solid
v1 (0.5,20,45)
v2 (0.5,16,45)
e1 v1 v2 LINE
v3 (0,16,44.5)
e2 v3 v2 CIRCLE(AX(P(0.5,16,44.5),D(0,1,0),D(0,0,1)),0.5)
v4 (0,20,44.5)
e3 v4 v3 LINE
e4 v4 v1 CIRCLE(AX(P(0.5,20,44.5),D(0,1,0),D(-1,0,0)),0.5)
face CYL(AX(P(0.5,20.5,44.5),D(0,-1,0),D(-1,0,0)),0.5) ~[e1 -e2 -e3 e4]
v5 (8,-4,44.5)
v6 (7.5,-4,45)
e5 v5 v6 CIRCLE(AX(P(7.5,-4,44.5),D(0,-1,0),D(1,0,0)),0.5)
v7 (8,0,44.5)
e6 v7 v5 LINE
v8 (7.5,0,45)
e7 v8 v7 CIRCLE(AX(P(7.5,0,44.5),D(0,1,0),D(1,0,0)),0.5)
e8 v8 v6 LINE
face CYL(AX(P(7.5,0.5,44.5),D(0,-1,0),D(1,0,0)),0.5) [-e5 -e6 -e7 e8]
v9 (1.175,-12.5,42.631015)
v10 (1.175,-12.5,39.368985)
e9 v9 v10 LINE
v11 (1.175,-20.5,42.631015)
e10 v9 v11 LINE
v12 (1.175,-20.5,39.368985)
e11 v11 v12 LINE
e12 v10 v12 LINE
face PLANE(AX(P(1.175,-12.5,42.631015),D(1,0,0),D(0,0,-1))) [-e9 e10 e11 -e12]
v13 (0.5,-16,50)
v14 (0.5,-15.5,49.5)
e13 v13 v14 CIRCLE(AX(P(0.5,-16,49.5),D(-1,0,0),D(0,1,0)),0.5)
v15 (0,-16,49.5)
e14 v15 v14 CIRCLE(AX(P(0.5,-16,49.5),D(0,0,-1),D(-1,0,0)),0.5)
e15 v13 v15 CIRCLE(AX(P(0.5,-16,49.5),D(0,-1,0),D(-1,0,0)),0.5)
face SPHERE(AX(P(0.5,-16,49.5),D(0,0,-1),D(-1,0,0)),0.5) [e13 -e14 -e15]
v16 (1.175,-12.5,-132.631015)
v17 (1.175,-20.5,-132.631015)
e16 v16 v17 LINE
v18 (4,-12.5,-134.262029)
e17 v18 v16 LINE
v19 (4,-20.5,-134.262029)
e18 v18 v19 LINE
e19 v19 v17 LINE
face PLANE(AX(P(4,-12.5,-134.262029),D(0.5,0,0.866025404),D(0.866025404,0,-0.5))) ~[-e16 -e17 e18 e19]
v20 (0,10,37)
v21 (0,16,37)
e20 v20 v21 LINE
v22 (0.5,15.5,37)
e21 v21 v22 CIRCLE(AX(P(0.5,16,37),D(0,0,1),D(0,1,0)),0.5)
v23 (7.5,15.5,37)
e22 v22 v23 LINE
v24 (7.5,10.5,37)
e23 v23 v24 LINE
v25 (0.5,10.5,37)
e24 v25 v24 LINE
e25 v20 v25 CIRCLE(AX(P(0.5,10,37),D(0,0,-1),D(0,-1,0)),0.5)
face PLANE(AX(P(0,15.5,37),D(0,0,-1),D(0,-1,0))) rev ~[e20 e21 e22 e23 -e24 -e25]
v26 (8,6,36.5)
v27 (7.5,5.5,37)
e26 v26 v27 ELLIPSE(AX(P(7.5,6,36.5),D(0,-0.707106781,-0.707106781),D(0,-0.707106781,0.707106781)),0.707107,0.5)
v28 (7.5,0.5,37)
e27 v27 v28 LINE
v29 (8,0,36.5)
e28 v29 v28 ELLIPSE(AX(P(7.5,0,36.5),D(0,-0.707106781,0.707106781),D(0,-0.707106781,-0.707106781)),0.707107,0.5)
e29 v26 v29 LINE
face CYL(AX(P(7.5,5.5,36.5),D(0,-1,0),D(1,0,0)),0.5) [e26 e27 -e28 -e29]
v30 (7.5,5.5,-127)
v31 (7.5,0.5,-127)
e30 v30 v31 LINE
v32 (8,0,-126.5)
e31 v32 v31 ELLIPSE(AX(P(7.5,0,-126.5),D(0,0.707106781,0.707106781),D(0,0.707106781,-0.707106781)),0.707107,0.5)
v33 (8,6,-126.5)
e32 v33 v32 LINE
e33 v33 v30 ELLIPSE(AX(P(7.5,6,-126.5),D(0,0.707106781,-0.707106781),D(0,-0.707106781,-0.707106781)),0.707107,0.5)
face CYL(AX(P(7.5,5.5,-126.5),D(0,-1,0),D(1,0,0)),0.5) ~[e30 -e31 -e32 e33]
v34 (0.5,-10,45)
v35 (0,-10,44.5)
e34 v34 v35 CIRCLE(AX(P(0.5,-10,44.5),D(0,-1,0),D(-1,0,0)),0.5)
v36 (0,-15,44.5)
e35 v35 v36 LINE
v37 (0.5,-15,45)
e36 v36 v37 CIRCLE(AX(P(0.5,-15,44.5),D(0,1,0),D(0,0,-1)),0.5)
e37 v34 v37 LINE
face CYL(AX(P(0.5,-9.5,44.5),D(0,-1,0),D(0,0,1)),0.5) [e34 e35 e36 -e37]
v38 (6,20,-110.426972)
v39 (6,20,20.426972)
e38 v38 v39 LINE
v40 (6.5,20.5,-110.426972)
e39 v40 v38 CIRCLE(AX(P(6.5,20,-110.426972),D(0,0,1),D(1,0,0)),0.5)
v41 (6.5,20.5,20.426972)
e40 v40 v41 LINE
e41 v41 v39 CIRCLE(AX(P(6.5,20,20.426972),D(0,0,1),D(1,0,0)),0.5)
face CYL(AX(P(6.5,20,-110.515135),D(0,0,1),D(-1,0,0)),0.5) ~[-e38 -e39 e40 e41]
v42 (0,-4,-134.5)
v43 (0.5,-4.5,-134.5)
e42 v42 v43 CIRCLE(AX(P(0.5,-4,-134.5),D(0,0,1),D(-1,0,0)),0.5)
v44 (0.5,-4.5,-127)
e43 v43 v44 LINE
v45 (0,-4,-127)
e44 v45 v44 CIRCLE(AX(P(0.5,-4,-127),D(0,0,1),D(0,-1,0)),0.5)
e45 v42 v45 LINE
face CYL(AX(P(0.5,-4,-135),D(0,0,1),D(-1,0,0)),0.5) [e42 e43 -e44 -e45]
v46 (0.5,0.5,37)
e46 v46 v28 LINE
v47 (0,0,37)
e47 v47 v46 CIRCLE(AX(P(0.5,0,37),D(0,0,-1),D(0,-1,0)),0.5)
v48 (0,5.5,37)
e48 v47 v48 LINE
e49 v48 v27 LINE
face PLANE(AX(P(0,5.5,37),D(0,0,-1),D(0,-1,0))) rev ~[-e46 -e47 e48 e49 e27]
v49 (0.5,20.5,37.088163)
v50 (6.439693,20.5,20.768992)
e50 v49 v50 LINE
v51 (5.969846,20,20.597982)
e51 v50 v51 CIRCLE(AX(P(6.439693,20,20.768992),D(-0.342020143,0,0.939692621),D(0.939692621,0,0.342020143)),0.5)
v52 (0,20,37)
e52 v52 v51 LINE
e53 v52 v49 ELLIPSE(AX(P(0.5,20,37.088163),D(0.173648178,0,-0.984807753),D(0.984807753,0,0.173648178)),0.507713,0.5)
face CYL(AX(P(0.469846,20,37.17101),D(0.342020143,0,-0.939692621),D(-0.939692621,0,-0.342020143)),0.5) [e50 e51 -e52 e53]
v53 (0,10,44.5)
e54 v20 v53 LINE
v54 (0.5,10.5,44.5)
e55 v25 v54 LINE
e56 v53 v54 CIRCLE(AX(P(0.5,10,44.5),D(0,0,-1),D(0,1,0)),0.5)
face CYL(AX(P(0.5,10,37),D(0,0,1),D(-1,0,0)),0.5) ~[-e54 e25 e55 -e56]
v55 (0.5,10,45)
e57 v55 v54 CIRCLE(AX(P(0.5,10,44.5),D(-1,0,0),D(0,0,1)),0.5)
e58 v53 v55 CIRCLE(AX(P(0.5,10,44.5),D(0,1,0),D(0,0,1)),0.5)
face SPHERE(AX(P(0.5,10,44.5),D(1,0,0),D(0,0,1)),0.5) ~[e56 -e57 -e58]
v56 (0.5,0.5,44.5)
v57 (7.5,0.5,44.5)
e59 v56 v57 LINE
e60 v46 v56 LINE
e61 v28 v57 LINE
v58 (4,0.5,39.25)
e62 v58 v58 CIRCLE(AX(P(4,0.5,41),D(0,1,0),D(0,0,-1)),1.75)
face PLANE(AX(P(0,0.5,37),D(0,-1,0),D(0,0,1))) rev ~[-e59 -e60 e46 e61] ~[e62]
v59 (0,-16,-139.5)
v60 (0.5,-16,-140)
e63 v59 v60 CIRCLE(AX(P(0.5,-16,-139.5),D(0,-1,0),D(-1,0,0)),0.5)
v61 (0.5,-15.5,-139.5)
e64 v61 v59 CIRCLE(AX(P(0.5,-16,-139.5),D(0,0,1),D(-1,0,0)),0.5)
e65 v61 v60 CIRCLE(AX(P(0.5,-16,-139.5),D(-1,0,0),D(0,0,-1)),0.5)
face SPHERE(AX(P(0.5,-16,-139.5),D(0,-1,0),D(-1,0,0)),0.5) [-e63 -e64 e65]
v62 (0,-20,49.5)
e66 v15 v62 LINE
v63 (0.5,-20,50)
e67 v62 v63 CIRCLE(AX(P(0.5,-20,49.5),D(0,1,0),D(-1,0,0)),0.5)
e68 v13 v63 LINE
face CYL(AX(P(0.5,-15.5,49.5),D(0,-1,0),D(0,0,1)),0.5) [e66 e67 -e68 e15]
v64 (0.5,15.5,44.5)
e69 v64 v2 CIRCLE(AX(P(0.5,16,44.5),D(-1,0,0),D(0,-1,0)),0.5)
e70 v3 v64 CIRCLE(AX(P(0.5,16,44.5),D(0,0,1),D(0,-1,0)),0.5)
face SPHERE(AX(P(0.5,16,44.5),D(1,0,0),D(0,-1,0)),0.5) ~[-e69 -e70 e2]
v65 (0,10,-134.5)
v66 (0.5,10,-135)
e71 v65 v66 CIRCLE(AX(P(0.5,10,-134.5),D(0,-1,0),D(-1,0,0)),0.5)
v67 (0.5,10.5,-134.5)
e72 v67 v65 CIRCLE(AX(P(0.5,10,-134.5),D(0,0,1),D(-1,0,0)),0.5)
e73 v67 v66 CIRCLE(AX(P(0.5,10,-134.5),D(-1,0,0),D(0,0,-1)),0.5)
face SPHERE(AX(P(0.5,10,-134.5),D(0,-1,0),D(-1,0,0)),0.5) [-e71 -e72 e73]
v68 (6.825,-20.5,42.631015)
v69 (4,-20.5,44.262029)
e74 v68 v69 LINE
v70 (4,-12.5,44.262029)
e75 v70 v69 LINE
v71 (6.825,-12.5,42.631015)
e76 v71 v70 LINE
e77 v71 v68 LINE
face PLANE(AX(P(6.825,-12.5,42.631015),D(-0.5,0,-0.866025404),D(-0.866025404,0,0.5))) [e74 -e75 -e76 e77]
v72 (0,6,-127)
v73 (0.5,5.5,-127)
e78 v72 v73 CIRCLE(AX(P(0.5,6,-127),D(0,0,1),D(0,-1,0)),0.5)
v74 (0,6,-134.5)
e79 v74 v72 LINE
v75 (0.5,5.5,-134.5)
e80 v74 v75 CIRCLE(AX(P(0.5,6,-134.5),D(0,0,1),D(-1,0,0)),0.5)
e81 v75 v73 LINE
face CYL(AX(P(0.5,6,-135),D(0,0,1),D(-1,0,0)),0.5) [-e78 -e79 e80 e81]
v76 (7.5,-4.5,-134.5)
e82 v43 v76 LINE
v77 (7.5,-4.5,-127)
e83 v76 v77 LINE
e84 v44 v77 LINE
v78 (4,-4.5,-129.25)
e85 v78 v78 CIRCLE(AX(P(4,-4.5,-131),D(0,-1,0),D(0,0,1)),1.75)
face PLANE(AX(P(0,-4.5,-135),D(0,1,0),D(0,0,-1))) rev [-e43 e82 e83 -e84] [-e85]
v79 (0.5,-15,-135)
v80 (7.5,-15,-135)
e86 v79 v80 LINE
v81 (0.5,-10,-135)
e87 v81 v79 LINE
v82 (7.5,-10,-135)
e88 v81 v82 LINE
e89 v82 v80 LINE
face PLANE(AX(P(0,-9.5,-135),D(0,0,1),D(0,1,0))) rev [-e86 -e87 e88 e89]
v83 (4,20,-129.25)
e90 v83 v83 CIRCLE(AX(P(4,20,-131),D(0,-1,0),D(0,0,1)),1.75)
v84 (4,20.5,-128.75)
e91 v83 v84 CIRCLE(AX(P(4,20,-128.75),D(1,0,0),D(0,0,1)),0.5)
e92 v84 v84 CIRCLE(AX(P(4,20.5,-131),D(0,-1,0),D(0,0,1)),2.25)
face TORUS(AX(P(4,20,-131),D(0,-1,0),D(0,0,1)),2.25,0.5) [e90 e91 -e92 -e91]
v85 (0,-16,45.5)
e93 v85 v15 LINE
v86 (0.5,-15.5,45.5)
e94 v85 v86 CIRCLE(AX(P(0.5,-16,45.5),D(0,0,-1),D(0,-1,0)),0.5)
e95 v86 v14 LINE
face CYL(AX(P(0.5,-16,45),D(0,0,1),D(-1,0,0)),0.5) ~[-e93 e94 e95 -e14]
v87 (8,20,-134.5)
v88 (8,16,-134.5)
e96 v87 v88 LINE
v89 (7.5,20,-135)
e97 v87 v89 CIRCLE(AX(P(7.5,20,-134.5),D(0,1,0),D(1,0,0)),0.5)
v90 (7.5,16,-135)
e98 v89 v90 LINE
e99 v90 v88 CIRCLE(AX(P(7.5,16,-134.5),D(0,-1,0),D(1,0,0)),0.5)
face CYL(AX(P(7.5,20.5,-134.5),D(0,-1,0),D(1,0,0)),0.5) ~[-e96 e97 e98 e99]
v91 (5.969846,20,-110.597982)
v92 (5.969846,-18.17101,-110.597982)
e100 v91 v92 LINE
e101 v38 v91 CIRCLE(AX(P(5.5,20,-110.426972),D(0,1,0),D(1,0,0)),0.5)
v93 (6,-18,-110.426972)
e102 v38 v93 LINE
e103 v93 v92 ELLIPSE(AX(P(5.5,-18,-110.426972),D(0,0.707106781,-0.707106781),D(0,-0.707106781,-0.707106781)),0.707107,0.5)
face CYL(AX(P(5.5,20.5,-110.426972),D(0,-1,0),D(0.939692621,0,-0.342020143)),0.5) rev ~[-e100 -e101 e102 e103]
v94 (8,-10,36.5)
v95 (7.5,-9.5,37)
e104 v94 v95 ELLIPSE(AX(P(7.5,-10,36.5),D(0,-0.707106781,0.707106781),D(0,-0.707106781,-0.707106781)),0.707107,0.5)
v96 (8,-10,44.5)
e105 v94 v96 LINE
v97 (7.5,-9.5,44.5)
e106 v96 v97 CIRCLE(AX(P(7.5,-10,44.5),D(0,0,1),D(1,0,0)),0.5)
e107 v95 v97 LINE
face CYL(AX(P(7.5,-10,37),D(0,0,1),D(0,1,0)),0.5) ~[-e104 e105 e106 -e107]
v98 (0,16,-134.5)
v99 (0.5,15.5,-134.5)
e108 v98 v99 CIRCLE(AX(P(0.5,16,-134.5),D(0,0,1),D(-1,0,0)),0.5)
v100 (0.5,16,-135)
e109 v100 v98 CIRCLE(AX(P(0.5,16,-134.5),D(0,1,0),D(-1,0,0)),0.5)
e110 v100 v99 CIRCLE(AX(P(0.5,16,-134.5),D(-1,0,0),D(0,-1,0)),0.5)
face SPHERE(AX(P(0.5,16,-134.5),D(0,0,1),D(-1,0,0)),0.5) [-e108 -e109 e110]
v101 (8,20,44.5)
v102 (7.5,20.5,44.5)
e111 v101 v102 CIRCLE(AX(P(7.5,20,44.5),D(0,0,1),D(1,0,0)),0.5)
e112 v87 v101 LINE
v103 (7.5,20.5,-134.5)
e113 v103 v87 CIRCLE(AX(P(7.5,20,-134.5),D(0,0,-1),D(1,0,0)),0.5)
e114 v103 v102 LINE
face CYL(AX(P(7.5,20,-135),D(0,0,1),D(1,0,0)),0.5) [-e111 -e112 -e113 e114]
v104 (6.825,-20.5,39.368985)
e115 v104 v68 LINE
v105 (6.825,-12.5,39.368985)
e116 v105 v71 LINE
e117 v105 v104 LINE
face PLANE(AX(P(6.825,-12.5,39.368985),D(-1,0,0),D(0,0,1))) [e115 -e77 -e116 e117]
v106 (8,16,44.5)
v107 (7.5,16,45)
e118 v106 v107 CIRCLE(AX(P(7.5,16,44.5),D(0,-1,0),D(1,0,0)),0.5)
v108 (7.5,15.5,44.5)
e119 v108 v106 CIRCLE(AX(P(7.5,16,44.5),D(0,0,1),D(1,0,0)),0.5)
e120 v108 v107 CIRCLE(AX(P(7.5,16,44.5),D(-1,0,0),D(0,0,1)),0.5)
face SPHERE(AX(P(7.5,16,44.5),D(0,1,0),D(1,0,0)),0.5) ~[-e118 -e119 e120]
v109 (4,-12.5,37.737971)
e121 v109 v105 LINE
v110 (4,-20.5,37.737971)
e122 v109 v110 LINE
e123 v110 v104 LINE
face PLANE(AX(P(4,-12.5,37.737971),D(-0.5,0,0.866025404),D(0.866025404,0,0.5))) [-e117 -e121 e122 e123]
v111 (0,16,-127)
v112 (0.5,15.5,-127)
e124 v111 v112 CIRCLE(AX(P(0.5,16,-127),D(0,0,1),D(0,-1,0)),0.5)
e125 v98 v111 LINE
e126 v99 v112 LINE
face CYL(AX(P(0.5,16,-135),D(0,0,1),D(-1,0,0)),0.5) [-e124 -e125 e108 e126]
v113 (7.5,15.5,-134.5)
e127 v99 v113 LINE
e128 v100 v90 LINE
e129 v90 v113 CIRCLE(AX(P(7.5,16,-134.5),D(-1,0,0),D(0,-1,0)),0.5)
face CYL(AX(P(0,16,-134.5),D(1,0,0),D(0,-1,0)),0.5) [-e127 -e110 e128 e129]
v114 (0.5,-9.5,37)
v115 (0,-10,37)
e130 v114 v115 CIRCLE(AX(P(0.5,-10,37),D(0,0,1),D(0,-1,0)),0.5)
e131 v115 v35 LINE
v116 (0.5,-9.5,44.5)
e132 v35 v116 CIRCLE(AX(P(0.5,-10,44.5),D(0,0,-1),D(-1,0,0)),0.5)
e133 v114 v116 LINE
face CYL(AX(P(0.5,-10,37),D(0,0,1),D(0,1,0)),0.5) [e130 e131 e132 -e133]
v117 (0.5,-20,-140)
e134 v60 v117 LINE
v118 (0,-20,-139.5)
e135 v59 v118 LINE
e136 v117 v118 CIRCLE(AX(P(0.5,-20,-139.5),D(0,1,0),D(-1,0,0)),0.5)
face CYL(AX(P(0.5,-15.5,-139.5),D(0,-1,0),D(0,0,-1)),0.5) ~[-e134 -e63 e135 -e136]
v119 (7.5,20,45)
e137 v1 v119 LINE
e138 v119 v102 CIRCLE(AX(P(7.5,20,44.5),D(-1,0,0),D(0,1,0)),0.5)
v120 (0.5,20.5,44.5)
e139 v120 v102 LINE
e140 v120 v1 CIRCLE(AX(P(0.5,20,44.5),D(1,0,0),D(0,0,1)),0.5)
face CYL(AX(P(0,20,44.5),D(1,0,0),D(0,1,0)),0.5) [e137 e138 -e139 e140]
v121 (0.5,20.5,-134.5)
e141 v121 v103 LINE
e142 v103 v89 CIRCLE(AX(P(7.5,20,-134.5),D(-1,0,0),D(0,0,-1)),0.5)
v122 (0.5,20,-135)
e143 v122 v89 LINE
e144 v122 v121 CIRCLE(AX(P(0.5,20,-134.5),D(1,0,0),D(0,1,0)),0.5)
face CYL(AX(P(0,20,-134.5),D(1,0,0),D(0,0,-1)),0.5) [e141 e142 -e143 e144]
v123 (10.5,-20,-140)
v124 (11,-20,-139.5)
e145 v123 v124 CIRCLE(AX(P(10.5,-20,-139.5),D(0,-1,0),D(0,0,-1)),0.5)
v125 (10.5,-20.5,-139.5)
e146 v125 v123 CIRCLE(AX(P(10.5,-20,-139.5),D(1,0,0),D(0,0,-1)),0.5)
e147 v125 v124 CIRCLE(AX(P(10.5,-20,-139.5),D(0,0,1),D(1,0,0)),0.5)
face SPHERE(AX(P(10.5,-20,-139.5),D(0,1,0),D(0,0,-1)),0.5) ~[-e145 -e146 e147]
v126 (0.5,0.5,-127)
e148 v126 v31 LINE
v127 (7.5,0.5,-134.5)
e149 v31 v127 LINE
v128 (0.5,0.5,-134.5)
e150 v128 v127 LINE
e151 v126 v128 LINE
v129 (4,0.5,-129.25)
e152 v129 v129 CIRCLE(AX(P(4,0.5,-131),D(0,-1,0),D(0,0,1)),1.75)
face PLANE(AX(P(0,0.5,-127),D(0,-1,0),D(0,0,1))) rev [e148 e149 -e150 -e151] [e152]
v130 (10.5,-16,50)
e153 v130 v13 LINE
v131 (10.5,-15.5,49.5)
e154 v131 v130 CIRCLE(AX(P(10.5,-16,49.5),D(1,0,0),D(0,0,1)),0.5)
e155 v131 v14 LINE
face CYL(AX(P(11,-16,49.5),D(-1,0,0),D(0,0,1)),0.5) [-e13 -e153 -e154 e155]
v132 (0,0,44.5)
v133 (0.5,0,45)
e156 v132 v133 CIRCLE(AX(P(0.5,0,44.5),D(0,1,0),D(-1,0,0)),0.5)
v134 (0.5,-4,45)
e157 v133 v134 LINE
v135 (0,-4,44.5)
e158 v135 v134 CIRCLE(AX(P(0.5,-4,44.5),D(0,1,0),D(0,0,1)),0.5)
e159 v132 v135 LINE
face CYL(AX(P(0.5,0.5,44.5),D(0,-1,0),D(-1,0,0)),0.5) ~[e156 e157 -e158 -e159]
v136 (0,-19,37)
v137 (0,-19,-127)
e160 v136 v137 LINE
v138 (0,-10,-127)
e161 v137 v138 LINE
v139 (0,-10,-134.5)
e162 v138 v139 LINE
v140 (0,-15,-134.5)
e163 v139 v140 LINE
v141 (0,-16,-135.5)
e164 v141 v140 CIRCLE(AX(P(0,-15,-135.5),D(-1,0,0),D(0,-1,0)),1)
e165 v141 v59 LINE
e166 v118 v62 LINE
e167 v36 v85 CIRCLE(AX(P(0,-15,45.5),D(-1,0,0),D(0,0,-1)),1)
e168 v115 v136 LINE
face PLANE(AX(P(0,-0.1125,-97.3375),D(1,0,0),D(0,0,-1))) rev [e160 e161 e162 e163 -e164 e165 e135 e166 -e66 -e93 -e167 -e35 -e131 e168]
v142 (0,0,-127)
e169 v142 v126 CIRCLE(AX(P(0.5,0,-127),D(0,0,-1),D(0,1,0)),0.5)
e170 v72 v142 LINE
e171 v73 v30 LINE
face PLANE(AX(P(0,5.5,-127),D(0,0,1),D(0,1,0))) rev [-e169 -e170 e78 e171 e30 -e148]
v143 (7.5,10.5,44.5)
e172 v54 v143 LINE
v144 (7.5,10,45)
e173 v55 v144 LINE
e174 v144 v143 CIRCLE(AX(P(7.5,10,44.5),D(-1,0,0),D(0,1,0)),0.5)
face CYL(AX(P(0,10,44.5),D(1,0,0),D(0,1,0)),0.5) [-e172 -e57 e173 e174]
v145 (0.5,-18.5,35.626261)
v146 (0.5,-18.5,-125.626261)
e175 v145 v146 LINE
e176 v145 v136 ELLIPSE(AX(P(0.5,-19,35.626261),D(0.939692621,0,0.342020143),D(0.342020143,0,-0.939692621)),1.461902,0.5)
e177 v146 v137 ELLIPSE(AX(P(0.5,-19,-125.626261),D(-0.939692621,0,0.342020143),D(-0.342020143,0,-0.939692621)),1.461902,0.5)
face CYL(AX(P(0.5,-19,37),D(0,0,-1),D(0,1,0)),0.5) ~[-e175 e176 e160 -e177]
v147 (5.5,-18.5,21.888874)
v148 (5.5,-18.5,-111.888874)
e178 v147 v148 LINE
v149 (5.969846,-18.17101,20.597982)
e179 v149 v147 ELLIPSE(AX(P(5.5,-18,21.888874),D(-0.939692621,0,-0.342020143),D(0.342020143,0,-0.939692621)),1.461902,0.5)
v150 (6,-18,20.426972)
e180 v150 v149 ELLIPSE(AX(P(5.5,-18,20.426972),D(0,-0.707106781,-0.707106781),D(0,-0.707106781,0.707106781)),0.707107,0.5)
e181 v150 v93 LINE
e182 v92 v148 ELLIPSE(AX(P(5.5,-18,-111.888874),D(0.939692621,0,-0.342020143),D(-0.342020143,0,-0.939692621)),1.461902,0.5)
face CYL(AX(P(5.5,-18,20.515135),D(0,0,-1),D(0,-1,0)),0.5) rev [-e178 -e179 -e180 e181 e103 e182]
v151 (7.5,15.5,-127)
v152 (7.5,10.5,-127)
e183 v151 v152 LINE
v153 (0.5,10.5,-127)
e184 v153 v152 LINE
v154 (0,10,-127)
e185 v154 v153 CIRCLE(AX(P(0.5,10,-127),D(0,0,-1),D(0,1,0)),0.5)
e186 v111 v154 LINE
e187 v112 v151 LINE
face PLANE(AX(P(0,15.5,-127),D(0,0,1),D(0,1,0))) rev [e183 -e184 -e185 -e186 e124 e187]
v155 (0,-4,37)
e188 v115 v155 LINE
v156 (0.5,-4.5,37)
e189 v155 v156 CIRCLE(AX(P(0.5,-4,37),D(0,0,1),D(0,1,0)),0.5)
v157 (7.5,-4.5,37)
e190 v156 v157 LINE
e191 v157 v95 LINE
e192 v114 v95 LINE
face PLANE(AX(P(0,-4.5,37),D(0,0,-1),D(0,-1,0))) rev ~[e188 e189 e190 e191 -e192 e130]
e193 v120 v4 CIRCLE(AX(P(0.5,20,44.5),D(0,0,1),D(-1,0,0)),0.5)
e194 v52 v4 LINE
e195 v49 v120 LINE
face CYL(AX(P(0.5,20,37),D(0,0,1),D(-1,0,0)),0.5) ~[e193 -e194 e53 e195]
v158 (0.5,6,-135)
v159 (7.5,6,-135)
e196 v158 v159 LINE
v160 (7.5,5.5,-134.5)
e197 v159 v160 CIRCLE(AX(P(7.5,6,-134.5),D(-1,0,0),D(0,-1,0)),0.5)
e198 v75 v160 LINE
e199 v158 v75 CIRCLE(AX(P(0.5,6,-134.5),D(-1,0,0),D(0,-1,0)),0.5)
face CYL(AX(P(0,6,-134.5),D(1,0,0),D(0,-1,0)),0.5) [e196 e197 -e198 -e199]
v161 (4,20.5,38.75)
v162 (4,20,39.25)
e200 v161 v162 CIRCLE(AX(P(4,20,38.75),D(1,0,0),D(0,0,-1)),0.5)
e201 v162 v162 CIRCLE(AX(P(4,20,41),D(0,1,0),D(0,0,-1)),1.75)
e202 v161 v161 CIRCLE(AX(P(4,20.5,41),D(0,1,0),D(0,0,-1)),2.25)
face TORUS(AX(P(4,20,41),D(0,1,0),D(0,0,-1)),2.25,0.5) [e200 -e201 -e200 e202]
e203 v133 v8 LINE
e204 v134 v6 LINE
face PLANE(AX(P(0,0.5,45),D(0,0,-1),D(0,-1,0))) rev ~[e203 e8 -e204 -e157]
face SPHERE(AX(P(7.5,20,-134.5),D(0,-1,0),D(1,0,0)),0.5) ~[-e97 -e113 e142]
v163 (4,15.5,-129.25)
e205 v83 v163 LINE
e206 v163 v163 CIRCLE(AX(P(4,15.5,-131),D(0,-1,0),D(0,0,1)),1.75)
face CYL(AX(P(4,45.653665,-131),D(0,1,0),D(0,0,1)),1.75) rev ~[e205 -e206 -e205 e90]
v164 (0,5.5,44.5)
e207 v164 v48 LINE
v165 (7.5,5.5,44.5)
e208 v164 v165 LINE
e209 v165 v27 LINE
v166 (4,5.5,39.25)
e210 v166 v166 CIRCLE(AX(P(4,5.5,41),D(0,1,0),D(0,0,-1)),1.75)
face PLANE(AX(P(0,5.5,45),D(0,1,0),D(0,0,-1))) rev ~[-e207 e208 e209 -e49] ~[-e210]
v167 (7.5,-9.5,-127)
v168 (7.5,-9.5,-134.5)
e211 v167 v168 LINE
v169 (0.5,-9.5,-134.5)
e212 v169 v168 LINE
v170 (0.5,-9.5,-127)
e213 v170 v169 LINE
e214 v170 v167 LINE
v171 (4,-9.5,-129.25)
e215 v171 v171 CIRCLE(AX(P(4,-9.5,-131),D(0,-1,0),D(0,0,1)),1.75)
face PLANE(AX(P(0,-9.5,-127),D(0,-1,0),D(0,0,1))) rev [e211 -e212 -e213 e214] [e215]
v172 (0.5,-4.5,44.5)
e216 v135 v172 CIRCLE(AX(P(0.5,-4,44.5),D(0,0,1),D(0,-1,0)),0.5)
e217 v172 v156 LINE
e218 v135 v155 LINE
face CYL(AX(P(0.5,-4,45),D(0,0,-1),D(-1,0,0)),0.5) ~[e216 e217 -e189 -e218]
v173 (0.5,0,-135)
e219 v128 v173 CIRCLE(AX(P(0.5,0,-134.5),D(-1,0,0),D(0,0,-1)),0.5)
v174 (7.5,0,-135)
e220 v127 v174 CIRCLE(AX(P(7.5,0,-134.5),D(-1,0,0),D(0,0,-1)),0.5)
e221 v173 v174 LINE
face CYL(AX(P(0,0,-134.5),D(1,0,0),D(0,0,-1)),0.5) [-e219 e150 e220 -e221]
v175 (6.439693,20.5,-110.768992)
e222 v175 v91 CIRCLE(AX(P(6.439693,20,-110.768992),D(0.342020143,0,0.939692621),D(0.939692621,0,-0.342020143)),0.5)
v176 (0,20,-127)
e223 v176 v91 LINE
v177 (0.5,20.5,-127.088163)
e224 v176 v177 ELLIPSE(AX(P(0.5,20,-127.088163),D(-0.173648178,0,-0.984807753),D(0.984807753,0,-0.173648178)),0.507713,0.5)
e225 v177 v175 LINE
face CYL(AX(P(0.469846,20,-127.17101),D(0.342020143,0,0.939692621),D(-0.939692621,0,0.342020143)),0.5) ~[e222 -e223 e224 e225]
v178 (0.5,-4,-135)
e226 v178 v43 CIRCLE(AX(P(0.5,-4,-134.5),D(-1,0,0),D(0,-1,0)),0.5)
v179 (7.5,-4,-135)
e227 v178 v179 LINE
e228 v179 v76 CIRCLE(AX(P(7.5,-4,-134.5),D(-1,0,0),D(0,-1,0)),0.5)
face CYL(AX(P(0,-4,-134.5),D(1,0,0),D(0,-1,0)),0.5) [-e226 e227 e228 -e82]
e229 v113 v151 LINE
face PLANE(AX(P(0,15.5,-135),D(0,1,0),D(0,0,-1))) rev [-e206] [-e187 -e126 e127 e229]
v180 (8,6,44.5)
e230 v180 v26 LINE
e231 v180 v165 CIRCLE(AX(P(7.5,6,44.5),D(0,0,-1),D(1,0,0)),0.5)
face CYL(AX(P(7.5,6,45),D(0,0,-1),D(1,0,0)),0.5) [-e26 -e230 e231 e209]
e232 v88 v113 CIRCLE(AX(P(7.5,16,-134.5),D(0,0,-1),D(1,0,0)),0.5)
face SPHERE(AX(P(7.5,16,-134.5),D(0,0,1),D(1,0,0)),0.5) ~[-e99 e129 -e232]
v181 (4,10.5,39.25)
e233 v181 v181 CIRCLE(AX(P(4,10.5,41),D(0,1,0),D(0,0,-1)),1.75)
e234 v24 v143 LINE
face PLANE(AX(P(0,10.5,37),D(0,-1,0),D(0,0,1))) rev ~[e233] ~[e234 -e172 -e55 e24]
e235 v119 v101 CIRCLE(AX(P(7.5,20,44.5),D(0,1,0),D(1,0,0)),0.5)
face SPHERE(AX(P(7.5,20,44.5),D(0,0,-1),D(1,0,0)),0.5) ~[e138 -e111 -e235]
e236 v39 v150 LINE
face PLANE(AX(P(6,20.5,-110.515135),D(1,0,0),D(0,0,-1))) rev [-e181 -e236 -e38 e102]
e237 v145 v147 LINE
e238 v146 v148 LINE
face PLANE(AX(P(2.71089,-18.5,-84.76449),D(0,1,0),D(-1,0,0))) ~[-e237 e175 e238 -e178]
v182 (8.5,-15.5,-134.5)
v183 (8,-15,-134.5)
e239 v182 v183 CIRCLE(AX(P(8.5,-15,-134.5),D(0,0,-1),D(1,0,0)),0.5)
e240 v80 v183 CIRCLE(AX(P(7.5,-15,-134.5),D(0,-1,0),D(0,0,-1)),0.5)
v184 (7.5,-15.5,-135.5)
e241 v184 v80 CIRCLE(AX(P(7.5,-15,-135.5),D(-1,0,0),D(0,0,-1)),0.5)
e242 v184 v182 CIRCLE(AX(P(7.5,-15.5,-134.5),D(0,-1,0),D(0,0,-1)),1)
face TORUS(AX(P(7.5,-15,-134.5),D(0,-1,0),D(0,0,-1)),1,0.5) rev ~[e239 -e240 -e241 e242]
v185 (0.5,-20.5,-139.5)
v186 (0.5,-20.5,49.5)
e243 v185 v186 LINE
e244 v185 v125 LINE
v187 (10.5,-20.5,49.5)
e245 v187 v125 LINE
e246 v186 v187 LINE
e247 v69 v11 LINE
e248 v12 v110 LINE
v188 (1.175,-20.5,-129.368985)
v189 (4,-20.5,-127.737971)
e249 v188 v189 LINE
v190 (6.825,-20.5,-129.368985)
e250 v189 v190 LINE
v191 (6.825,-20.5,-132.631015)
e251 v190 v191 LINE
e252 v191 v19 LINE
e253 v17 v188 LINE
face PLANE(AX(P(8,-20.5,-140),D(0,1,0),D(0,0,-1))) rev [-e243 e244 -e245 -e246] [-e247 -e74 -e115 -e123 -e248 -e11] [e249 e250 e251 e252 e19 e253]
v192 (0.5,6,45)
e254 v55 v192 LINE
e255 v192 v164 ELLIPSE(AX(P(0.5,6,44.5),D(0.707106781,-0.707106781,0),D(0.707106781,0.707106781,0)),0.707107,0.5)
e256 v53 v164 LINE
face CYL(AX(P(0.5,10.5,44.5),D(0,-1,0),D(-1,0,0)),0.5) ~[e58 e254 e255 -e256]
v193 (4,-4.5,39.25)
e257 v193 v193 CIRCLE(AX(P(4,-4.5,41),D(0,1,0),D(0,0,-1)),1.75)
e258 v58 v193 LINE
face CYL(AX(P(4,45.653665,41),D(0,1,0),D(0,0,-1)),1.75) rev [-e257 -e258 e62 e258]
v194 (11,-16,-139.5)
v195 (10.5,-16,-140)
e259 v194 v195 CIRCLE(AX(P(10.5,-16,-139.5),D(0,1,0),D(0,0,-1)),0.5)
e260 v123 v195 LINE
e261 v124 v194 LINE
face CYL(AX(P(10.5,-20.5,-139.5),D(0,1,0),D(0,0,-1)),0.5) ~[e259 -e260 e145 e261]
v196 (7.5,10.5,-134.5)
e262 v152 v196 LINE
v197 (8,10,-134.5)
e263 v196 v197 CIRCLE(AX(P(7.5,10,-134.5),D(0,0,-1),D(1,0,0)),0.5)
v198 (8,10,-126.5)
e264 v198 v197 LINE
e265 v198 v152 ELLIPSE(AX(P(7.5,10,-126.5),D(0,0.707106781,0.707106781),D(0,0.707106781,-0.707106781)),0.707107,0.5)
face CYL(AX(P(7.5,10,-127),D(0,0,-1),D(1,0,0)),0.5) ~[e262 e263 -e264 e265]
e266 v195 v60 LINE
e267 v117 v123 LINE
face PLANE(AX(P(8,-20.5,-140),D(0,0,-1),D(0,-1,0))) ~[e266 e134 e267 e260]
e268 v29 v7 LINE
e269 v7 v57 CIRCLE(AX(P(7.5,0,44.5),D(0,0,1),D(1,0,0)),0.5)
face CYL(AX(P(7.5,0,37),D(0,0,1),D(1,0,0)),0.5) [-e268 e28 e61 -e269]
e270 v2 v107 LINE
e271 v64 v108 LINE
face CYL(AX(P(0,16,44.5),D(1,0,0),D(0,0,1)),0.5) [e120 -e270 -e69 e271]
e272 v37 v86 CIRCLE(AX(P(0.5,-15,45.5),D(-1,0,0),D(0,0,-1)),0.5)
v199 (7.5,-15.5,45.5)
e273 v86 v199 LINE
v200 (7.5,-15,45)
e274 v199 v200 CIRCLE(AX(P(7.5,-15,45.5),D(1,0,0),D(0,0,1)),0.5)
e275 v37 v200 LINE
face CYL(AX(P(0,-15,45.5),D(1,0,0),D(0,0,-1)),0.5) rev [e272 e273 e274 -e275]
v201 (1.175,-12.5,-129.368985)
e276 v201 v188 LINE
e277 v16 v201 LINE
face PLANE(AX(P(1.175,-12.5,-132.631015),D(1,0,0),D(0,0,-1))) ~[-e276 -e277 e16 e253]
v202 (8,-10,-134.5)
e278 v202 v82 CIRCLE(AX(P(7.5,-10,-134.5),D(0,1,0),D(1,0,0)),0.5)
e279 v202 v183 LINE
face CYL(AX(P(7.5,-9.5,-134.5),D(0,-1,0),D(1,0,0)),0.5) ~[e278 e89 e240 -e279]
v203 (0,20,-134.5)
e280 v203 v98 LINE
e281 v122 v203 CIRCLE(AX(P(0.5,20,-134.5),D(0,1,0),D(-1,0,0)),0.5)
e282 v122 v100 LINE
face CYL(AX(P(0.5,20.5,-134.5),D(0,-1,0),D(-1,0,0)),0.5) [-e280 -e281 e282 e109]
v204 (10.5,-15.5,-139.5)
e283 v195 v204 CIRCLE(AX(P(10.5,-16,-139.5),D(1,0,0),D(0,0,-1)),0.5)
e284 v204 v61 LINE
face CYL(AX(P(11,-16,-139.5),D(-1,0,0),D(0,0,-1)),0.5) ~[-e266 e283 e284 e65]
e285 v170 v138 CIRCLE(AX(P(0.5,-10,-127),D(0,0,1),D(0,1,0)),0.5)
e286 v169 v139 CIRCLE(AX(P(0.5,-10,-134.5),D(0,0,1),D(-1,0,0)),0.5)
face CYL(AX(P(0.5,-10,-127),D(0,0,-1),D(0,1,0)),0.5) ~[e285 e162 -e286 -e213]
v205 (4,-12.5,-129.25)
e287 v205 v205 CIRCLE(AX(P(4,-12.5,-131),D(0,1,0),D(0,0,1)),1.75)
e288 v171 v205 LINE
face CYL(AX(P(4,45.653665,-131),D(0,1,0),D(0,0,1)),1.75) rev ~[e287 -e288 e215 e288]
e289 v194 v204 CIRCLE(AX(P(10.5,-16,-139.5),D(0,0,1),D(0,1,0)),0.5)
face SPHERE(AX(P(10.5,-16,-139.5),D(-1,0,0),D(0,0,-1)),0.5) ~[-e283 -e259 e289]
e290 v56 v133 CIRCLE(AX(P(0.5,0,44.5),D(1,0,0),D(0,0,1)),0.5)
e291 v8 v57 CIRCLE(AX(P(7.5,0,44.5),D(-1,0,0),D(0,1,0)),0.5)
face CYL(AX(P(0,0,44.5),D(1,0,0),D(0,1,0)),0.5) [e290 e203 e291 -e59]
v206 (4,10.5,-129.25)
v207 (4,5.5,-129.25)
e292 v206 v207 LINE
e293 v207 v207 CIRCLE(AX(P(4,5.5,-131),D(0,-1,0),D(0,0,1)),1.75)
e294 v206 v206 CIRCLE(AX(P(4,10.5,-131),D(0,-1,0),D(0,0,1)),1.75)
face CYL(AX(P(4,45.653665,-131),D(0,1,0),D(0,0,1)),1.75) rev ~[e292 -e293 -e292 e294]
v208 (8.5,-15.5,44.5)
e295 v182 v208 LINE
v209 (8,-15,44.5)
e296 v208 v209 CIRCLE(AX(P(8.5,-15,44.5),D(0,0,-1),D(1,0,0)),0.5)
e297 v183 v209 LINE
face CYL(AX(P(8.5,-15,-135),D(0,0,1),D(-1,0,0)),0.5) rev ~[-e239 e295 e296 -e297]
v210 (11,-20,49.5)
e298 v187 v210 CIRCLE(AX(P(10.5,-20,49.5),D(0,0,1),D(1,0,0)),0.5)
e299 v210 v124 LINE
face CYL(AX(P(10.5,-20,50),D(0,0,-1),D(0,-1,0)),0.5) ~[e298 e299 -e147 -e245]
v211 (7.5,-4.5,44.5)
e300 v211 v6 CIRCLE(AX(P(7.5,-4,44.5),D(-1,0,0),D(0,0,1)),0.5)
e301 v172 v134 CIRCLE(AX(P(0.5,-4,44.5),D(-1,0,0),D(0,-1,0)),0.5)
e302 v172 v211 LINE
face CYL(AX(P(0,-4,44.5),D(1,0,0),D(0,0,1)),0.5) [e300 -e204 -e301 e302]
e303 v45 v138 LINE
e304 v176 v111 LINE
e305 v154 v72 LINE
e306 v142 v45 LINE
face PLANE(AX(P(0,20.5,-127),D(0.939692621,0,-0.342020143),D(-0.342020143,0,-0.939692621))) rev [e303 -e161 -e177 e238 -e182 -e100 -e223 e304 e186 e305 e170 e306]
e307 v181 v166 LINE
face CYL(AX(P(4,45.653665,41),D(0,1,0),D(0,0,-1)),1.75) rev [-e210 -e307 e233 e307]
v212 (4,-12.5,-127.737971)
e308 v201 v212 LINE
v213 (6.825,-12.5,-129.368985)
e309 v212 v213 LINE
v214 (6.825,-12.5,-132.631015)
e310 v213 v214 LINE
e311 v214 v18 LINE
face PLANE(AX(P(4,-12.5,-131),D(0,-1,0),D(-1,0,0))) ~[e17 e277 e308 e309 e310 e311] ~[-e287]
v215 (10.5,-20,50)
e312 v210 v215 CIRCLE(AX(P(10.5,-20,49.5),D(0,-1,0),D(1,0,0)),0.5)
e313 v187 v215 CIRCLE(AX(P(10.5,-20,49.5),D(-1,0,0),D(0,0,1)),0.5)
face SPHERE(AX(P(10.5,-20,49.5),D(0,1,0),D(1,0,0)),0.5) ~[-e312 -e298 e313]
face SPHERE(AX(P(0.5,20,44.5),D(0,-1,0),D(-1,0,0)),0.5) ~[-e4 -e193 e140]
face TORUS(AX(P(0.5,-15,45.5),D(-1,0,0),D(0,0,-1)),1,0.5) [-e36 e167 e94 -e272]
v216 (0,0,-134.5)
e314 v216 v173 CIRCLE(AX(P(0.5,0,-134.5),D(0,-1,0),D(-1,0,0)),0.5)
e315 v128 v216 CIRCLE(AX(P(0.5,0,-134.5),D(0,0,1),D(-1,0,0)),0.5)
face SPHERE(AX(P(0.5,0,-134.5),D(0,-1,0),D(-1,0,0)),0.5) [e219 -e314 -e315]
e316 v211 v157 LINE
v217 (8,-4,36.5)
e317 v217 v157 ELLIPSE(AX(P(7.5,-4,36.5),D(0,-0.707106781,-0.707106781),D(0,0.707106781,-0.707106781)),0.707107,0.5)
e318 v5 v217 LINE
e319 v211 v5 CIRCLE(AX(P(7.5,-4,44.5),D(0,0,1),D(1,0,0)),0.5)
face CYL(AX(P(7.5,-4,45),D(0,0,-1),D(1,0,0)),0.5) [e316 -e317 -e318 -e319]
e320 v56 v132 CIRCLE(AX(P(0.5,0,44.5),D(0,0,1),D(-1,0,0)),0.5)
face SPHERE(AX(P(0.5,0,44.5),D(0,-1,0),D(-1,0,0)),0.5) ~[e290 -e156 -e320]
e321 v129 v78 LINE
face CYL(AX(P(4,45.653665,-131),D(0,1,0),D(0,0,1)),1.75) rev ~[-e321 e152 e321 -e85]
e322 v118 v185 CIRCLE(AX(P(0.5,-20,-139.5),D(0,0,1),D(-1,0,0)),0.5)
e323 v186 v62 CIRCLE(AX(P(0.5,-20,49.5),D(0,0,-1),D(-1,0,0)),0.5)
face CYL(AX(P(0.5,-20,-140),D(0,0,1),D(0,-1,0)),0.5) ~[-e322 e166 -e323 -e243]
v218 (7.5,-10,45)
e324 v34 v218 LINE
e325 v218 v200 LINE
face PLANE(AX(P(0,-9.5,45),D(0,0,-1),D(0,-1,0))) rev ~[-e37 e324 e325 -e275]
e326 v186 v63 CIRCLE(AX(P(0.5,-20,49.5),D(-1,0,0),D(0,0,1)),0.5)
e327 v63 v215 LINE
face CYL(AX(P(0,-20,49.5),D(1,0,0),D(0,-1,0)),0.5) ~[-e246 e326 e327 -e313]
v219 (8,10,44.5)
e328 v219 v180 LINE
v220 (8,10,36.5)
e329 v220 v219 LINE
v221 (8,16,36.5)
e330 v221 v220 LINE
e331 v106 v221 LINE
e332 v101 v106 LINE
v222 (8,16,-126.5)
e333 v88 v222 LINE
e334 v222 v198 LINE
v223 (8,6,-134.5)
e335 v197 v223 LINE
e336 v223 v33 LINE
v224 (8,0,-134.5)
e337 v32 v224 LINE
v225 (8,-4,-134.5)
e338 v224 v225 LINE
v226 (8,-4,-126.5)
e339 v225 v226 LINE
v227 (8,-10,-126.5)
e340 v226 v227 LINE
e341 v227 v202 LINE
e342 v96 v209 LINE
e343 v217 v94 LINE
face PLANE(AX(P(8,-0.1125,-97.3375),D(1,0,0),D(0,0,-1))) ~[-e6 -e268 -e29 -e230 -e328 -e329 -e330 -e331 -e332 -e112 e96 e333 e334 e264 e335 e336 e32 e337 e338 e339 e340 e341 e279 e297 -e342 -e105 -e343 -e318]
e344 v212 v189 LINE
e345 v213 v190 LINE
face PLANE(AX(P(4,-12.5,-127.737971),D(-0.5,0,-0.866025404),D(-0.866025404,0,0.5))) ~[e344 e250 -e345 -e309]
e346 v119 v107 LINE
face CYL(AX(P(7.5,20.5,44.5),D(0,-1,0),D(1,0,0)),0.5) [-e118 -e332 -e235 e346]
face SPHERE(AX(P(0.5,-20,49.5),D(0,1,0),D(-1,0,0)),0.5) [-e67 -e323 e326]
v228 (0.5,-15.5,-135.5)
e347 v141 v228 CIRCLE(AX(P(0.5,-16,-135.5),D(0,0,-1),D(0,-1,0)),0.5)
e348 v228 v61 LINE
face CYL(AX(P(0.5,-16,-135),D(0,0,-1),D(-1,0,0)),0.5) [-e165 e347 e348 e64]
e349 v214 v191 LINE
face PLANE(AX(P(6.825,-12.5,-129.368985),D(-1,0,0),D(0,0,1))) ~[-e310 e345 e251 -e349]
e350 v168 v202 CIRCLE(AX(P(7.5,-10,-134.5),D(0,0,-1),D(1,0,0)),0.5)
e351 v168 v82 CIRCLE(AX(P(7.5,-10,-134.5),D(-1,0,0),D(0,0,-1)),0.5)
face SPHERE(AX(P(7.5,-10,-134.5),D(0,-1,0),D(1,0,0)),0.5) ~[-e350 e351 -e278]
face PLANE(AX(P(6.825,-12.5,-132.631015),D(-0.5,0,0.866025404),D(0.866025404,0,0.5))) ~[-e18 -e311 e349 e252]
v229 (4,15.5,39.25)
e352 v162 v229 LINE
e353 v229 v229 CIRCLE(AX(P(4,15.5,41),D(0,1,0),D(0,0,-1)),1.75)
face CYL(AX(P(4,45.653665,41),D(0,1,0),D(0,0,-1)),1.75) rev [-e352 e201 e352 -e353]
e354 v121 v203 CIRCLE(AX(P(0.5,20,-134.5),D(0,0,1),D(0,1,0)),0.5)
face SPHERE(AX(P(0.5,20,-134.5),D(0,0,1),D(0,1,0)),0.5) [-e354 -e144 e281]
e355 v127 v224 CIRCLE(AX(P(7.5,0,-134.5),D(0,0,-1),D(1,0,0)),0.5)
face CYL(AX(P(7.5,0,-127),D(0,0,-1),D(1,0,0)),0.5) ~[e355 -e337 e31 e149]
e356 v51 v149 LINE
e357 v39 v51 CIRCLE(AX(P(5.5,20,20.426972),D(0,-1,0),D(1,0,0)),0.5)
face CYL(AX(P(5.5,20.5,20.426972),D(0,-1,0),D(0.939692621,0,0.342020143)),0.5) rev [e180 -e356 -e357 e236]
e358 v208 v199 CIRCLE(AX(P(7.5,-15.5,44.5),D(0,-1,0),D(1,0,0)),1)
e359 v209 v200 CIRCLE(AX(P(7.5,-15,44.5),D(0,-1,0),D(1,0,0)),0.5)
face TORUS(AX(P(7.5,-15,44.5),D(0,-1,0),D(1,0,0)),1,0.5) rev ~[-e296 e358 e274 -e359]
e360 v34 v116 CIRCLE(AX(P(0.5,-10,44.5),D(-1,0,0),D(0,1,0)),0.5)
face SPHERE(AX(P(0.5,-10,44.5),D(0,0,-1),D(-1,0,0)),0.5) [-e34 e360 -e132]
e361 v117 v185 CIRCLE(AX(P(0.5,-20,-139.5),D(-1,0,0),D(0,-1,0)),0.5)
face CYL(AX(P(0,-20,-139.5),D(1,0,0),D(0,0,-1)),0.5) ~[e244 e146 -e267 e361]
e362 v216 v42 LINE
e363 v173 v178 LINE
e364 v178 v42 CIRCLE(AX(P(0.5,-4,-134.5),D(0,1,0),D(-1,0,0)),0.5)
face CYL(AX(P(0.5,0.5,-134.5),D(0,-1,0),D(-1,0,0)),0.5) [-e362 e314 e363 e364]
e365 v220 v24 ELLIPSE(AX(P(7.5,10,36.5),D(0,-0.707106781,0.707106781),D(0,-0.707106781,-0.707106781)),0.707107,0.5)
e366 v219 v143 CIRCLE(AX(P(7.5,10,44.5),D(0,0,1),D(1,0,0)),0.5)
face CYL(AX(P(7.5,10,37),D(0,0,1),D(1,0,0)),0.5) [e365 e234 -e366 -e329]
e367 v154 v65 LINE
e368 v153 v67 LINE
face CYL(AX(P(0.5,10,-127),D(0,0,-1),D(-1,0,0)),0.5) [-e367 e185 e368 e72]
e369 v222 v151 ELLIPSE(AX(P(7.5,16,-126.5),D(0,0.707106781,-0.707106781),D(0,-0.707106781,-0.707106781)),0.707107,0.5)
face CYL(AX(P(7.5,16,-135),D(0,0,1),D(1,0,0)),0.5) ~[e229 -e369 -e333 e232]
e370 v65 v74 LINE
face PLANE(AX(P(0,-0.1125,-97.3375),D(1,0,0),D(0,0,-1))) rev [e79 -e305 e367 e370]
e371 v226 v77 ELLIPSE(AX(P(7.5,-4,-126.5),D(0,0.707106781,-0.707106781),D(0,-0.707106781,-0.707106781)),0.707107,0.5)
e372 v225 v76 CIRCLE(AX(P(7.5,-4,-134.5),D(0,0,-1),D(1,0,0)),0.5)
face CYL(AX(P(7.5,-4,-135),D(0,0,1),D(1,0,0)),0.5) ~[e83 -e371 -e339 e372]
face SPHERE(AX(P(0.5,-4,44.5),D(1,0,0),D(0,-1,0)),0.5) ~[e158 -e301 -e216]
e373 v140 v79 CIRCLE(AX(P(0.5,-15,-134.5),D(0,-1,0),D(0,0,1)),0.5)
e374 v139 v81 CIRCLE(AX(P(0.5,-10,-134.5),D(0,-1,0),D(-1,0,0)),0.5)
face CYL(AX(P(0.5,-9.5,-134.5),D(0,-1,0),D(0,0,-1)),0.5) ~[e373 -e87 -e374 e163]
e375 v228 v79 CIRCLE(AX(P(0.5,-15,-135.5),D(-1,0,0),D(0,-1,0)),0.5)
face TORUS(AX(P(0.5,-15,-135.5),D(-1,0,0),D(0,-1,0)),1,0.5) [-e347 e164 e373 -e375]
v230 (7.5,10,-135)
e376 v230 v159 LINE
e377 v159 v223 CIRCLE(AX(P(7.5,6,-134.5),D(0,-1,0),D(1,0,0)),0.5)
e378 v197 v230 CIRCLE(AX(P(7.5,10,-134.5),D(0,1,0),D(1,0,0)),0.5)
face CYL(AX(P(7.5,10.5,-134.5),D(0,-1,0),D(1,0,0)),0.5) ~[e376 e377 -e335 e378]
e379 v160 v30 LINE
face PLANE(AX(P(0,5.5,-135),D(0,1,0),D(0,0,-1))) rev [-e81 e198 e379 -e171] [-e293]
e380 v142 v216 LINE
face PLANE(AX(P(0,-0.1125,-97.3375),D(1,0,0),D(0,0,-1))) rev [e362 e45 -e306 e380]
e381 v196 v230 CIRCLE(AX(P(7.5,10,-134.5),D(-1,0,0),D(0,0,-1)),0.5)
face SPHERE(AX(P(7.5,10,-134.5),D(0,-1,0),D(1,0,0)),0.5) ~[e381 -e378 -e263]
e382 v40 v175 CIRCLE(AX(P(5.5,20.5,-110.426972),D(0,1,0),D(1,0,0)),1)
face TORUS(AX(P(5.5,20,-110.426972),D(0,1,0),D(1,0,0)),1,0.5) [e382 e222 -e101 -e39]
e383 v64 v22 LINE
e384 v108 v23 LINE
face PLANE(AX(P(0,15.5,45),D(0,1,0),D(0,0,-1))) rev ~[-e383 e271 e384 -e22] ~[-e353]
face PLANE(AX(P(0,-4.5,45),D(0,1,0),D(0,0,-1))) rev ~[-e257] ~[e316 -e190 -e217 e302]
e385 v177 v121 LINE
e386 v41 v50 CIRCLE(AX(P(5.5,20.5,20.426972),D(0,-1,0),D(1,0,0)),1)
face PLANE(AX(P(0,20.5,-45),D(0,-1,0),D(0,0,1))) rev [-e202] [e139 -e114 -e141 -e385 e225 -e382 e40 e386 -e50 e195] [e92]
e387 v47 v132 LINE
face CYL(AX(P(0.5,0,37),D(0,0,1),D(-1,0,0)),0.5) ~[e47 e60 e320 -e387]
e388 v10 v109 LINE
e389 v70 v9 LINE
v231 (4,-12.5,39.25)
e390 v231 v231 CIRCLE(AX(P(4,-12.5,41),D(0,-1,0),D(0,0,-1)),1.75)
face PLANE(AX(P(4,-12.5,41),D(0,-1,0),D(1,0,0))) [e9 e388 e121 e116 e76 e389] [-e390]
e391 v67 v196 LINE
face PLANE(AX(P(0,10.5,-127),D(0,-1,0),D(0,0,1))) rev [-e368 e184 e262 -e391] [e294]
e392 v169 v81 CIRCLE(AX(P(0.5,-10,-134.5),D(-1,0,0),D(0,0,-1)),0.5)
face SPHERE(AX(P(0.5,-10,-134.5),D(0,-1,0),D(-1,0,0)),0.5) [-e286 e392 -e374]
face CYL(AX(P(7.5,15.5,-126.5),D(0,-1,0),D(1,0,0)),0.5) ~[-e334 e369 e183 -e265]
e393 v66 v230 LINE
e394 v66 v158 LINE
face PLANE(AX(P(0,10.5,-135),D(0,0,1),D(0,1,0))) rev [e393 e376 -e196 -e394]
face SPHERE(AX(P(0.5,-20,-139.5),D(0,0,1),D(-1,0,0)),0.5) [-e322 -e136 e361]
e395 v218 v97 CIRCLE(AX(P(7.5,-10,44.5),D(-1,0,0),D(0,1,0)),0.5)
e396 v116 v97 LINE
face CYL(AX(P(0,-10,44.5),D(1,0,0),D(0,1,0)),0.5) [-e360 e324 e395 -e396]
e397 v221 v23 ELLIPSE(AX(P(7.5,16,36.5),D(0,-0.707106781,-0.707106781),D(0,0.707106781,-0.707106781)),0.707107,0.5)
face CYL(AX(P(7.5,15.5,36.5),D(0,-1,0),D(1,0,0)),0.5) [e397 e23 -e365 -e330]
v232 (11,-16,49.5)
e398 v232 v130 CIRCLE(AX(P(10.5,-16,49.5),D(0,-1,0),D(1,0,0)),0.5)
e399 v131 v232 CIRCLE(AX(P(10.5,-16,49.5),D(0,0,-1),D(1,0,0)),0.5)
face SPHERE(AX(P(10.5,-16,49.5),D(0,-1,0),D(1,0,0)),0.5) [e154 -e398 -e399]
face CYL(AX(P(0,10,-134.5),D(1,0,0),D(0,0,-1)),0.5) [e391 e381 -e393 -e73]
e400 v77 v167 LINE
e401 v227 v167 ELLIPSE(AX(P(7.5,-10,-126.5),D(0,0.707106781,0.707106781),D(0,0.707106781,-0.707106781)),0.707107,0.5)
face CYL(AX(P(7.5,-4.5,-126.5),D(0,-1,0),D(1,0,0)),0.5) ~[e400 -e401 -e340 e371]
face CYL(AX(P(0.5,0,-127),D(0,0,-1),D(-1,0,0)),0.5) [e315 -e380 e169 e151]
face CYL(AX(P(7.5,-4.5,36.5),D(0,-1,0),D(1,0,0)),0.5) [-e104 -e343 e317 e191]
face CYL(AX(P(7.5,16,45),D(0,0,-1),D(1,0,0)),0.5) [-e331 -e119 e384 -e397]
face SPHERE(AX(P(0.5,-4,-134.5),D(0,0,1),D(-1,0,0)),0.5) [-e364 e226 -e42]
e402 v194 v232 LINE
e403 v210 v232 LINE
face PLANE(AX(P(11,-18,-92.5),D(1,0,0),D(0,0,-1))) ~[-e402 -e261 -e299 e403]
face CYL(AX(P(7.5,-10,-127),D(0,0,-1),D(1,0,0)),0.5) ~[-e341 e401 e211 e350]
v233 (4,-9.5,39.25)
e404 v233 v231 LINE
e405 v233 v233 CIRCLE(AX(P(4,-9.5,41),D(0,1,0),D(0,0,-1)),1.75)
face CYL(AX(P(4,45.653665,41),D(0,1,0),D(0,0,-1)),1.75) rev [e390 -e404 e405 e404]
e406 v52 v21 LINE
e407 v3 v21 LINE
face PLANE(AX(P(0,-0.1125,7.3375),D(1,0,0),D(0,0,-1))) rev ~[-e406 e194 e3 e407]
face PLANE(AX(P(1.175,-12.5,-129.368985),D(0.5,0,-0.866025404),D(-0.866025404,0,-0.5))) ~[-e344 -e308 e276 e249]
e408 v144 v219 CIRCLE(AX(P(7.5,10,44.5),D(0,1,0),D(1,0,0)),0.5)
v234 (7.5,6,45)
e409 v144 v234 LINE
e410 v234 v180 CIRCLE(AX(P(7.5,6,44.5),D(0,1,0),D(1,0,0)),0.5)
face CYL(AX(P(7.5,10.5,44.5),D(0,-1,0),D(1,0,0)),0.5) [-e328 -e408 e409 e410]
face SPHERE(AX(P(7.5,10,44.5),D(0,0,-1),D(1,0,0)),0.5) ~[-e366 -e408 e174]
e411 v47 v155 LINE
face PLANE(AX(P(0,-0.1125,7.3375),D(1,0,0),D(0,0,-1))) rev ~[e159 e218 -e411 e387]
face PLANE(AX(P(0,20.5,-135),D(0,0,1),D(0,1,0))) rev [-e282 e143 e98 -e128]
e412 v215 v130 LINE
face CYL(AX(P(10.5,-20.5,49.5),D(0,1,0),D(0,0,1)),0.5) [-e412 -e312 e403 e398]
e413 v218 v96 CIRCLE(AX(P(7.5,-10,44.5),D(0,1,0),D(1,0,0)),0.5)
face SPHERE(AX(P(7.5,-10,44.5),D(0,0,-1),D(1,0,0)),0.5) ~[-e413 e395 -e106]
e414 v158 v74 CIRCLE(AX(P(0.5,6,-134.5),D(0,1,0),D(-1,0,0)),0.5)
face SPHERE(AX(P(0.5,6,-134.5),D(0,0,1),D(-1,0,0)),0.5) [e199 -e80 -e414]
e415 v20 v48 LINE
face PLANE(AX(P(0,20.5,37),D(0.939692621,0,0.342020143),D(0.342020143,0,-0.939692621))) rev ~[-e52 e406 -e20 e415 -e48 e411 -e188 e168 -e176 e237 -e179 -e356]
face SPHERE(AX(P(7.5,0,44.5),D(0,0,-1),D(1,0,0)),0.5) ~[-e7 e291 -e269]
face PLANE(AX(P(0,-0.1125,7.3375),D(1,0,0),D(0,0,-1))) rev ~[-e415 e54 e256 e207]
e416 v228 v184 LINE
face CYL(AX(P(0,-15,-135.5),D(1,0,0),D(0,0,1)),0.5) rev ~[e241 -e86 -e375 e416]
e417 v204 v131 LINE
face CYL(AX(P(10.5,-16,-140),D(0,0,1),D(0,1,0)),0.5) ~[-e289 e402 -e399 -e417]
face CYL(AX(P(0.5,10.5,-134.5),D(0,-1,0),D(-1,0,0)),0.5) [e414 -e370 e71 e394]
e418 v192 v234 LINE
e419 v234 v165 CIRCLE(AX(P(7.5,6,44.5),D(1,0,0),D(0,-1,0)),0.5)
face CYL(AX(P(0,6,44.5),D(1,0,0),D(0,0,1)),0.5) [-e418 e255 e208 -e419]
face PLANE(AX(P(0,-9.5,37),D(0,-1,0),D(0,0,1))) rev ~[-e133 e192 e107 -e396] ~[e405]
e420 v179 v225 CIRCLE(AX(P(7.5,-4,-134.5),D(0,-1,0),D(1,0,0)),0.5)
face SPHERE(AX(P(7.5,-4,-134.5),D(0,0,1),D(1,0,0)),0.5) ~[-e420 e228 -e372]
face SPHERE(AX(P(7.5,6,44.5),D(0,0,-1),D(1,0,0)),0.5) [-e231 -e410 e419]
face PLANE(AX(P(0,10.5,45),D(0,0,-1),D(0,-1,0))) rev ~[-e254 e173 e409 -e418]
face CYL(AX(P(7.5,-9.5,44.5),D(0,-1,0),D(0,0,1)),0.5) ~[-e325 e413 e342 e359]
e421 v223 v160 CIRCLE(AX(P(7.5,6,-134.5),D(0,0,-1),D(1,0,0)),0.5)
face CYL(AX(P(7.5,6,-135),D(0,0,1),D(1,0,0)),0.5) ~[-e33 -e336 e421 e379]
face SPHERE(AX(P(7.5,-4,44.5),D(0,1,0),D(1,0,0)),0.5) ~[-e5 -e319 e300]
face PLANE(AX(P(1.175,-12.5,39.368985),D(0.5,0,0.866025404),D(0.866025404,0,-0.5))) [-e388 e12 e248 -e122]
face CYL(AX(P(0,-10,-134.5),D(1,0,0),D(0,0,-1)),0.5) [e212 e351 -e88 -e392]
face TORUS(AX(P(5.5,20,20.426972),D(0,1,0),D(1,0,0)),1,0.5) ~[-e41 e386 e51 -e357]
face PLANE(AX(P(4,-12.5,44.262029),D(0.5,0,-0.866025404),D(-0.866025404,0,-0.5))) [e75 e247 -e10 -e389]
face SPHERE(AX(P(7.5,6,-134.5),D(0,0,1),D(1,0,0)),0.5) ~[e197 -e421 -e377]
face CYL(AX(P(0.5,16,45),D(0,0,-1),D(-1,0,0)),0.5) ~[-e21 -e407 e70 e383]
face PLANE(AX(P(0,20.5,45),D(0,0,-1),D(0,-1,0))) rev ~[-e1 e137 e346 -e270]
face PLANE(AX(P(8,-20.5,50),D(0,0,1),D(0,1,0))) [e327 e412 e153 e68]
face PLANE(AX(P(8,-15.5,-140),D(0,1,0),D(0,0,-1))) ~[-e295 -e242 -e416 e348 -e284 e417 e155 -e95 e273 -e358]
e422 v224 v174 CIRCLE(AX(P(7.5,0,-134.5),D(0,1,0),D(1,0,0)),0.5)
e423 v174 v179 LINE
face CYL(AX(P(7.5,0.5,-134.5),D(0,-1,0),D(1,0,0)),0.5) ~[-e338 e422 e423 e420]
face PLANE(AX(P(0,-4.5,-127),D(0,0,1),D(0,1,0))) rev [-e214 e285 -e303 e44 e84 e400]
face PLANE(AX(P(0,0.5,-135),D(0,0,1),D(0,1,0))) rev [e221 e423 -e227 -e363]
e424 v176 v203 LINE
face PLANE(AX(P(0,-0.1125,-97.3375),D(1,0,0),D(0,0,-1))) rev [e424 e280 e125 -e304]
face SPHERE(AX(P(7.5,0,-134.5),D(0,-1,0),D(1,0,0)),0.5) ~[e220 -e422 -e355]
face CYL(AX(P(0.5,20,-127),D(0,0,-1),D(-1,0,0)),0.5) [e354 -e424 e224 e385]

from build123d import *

# Parameters (mm, degrees)
BOSS_EXTRUDE1_DEPTH     = 8
CUT_EXTRUDE3_DEPTH      = 66.153664517
CUT_EXTRUDE3_DEPTH_BACK = 66.153664517
SKETCH7_R               = 1.75
SKETCH3_W               = 95
SKETCH3_H               = 5
BOSS_EXTRUDE2_DEPTH     = 3
CUT_EXTRUDE4_DEPTH      = 66.589633327
CUT_EXTRUDE4_DEPTH_BACK = 8
SKETCH7_3_R             = 1.75
CUT_EXTRUDE5_DEPTH      = 39
FILLET1_R               = 0.5


with BuildPart() as part:
    # Sketch1 → Boss-Extrude1 (new body)
    with BuildSketch(Plane(origin=(0, 0, 0), x_dir=(0, 0, -1), z_dir=(1, 0, 0))):
        Polygon((-50, -20.5), (-45, -20.5), (45, -20.5), (45, 20.5), (-37, 20.5), (-45, 20.5), (-45, 15.5), (-37, 15.5), (-37, 10.5), (-45, 10.5), (-45, 5.5), (-37, 5.5), (-37, 0.5), (-45, 0.5), (-45, -4.5), (-37, -4.5), (-37, -9.5), (-45, -9.5), (-45, -15.5), (-50, -15.5), align=None)
    extrude(amount=BOSS_EXTRUDE1_DEPTH)

    # Sketch7 → Cut-Extrude3 (cut, two sides: drawn at the far end of the back side and taken through both)
    with BuildSketch(Plane.XZ.offset(20.5).offset(-CUT_EXTRUDE3_DEPTH_BACK)):
        with Locations((4, 41)):
            Circle(SKETCH7_R)
    extrude(amount=CUT_EXTRUDE3_DEPTH + CUT_EXTRUDE3_DEPTH_BACK, mode=Mode.SUBTRACT)

    # Sketch3 → Boss-Extrude2 (add)
    with BuildSketch(Plane(origin=(8, 0, 0), x_dir=(0, 0, -1), z_dir=(1, 0, 0))):
        with Locations((-2.5, -18)):
            Rectangle(SKETCH3_W, SKETCH3_H)
    extrude(amount=BOSS_EXTRUDE2_DEPTH)

    # Sketch7<3> → Cut-Extrude4 (cut, two sides: drawn at the far end of the back side and taken through both)
    with BuildSketch(Plane.XZ.offset(20.5).offset(-CUT_EXTRUDE4_DEPTH_BACK)):
        Polygon((1.175, 42.63101451), (1.175, 39.36898549), (4, 37.737970979), (6.825, 39.36898549), (6.825, 42.63101451), (4, 44.262029021), align=None)
        with Locations((4, 41)):
            Circle(SKETCH7_3_R, mode=Mode.SUBTRACT)
    extrude(amount=CUT_EXTRUDE4_DEPTH + CUT_EXTRUDE4_DEPTH_BACK, mode=Mode.SUBTRACT)

    # Sketch8 → Cut-Extrude5 (cut)
    with BuildSketch(Plane(origin=(0, 20.5, 0), x_dir=(1, 0, 0), z_dir=(0, 1, 0))):
        Polygon((0, -37), (6, -20.515135483), (6, 45), (0, 45), align=None)
    extrude(amount=-CUT_EXTRUDE5_DEPTH, mode=Mode.SUBTRACT)

    # Mirror2: part across plane


with BuildPart() as part_1:
    add(part.part)
    add(part.part.mirror(Plane(origin=(8, 0, -45), x_dir=(1, 0, 0), z_dir=(0, 0, 1))))

    # Fillet1
    fillet1_edges = [part_1.edges().sort_by_distance(p)[0] for p in [
        (4, -9.5, 45),
        (4, -15.5, 45),
        (0, -12.5, 45),
        (5.5, -15.5, 50),
        (5.5, -20.5, 50),
        (0, -18, 50),
        (5.5, -20.5, -140),
        (5.5, -15.5, -140),
        (0, -18, -140),
        (4, -15.5, -135),
        (4, -9.5, -135),
        (0, -12.5, -135),
        (4, -4.5, -135),
        (4, 0.5, -135),
        (0, -2, -135),
        (4, 5.5, -135),
        (4, 10.5, -135),
        (0, 8, -135),
        (4, 15.5, -135),
        (0, 18, -135),
        (4, 15.5, 45),
        (0, 18, 45),
        (4, 10.5, 45),
        (4, 5.5, 45),
        (0, 8, 45),
        (4, 0.5, 45),
        (4, -4.5, 45),
        (0, -2, 45),
        (6, 1, 20.515135483),
        (6, 1, -110.515135483),
        (8, -9.5, 41),
        (8, -7, 37),
        (8, -4.5, 41),
        (8, -2, 45),
        (8, 0.5, 41),
        (8, 3, 37),
        (8, 5.5, 41),
        (8, 8, 45),
        (8, 10.5, 41),
        (8, 13, 37),
        (8, 15.5, 41),
        (8, 18, 45),
        (8, 18, -135),
        (8, 15.5, -131),
        (8, 13, -127),
        (8, 10.5, -131),
        (8, 8, -135),
        (8, 5.5, -131),
        (8, 3, -127),
        (8, 0.5, -131),
        (8, -2, -135),
        (8, -4.5, -131),
        (8, -7, -127),
        (8, -9.5, -131),
        (8, -12.5, -135),
        (8, -15.5, -45),
        (8, -12.5, 45),
        (2.25, 20.5, -131),
        (2.25, 20.5, 41),
        (6, 20.5, -45),
        (3, 20.5, -118.757567742),
        (0, 20.5, -131),
        (4, 20.5, -135),
        (8, 20.5, -45),
        (4, 20.5, 45),
        (0, 20.5, 41),
        (3, 20.5, 28.757567742),
        (0, -4.5, 41),
        (0, 0.5, 41),
        (0, 10.5, 41),
        (0, 15.5, 41),
        (0, -9.5, 41),
        (0, -15.5, 47.5),
        (0, 15.5, -131),
        (0, 10.5, -131),
        (0, 5.5, -131),
        (0, -4.5, -131),
        (0, 0.5, -131),
        (0, -9.5, -131),
        (0, -15.5, -137.5),
        (0, -20.5, -45),
        (6, -18.5, -45),
        (0, -18.5, -45),
        (11, -18, 50),
        (11, -18, -140),
        (11, -20.5, -45),
        (11, -15.5, -45),
    ]]
    fillet(fillet1_edges, radius=FILLET1_R)


solid = part_1.part
